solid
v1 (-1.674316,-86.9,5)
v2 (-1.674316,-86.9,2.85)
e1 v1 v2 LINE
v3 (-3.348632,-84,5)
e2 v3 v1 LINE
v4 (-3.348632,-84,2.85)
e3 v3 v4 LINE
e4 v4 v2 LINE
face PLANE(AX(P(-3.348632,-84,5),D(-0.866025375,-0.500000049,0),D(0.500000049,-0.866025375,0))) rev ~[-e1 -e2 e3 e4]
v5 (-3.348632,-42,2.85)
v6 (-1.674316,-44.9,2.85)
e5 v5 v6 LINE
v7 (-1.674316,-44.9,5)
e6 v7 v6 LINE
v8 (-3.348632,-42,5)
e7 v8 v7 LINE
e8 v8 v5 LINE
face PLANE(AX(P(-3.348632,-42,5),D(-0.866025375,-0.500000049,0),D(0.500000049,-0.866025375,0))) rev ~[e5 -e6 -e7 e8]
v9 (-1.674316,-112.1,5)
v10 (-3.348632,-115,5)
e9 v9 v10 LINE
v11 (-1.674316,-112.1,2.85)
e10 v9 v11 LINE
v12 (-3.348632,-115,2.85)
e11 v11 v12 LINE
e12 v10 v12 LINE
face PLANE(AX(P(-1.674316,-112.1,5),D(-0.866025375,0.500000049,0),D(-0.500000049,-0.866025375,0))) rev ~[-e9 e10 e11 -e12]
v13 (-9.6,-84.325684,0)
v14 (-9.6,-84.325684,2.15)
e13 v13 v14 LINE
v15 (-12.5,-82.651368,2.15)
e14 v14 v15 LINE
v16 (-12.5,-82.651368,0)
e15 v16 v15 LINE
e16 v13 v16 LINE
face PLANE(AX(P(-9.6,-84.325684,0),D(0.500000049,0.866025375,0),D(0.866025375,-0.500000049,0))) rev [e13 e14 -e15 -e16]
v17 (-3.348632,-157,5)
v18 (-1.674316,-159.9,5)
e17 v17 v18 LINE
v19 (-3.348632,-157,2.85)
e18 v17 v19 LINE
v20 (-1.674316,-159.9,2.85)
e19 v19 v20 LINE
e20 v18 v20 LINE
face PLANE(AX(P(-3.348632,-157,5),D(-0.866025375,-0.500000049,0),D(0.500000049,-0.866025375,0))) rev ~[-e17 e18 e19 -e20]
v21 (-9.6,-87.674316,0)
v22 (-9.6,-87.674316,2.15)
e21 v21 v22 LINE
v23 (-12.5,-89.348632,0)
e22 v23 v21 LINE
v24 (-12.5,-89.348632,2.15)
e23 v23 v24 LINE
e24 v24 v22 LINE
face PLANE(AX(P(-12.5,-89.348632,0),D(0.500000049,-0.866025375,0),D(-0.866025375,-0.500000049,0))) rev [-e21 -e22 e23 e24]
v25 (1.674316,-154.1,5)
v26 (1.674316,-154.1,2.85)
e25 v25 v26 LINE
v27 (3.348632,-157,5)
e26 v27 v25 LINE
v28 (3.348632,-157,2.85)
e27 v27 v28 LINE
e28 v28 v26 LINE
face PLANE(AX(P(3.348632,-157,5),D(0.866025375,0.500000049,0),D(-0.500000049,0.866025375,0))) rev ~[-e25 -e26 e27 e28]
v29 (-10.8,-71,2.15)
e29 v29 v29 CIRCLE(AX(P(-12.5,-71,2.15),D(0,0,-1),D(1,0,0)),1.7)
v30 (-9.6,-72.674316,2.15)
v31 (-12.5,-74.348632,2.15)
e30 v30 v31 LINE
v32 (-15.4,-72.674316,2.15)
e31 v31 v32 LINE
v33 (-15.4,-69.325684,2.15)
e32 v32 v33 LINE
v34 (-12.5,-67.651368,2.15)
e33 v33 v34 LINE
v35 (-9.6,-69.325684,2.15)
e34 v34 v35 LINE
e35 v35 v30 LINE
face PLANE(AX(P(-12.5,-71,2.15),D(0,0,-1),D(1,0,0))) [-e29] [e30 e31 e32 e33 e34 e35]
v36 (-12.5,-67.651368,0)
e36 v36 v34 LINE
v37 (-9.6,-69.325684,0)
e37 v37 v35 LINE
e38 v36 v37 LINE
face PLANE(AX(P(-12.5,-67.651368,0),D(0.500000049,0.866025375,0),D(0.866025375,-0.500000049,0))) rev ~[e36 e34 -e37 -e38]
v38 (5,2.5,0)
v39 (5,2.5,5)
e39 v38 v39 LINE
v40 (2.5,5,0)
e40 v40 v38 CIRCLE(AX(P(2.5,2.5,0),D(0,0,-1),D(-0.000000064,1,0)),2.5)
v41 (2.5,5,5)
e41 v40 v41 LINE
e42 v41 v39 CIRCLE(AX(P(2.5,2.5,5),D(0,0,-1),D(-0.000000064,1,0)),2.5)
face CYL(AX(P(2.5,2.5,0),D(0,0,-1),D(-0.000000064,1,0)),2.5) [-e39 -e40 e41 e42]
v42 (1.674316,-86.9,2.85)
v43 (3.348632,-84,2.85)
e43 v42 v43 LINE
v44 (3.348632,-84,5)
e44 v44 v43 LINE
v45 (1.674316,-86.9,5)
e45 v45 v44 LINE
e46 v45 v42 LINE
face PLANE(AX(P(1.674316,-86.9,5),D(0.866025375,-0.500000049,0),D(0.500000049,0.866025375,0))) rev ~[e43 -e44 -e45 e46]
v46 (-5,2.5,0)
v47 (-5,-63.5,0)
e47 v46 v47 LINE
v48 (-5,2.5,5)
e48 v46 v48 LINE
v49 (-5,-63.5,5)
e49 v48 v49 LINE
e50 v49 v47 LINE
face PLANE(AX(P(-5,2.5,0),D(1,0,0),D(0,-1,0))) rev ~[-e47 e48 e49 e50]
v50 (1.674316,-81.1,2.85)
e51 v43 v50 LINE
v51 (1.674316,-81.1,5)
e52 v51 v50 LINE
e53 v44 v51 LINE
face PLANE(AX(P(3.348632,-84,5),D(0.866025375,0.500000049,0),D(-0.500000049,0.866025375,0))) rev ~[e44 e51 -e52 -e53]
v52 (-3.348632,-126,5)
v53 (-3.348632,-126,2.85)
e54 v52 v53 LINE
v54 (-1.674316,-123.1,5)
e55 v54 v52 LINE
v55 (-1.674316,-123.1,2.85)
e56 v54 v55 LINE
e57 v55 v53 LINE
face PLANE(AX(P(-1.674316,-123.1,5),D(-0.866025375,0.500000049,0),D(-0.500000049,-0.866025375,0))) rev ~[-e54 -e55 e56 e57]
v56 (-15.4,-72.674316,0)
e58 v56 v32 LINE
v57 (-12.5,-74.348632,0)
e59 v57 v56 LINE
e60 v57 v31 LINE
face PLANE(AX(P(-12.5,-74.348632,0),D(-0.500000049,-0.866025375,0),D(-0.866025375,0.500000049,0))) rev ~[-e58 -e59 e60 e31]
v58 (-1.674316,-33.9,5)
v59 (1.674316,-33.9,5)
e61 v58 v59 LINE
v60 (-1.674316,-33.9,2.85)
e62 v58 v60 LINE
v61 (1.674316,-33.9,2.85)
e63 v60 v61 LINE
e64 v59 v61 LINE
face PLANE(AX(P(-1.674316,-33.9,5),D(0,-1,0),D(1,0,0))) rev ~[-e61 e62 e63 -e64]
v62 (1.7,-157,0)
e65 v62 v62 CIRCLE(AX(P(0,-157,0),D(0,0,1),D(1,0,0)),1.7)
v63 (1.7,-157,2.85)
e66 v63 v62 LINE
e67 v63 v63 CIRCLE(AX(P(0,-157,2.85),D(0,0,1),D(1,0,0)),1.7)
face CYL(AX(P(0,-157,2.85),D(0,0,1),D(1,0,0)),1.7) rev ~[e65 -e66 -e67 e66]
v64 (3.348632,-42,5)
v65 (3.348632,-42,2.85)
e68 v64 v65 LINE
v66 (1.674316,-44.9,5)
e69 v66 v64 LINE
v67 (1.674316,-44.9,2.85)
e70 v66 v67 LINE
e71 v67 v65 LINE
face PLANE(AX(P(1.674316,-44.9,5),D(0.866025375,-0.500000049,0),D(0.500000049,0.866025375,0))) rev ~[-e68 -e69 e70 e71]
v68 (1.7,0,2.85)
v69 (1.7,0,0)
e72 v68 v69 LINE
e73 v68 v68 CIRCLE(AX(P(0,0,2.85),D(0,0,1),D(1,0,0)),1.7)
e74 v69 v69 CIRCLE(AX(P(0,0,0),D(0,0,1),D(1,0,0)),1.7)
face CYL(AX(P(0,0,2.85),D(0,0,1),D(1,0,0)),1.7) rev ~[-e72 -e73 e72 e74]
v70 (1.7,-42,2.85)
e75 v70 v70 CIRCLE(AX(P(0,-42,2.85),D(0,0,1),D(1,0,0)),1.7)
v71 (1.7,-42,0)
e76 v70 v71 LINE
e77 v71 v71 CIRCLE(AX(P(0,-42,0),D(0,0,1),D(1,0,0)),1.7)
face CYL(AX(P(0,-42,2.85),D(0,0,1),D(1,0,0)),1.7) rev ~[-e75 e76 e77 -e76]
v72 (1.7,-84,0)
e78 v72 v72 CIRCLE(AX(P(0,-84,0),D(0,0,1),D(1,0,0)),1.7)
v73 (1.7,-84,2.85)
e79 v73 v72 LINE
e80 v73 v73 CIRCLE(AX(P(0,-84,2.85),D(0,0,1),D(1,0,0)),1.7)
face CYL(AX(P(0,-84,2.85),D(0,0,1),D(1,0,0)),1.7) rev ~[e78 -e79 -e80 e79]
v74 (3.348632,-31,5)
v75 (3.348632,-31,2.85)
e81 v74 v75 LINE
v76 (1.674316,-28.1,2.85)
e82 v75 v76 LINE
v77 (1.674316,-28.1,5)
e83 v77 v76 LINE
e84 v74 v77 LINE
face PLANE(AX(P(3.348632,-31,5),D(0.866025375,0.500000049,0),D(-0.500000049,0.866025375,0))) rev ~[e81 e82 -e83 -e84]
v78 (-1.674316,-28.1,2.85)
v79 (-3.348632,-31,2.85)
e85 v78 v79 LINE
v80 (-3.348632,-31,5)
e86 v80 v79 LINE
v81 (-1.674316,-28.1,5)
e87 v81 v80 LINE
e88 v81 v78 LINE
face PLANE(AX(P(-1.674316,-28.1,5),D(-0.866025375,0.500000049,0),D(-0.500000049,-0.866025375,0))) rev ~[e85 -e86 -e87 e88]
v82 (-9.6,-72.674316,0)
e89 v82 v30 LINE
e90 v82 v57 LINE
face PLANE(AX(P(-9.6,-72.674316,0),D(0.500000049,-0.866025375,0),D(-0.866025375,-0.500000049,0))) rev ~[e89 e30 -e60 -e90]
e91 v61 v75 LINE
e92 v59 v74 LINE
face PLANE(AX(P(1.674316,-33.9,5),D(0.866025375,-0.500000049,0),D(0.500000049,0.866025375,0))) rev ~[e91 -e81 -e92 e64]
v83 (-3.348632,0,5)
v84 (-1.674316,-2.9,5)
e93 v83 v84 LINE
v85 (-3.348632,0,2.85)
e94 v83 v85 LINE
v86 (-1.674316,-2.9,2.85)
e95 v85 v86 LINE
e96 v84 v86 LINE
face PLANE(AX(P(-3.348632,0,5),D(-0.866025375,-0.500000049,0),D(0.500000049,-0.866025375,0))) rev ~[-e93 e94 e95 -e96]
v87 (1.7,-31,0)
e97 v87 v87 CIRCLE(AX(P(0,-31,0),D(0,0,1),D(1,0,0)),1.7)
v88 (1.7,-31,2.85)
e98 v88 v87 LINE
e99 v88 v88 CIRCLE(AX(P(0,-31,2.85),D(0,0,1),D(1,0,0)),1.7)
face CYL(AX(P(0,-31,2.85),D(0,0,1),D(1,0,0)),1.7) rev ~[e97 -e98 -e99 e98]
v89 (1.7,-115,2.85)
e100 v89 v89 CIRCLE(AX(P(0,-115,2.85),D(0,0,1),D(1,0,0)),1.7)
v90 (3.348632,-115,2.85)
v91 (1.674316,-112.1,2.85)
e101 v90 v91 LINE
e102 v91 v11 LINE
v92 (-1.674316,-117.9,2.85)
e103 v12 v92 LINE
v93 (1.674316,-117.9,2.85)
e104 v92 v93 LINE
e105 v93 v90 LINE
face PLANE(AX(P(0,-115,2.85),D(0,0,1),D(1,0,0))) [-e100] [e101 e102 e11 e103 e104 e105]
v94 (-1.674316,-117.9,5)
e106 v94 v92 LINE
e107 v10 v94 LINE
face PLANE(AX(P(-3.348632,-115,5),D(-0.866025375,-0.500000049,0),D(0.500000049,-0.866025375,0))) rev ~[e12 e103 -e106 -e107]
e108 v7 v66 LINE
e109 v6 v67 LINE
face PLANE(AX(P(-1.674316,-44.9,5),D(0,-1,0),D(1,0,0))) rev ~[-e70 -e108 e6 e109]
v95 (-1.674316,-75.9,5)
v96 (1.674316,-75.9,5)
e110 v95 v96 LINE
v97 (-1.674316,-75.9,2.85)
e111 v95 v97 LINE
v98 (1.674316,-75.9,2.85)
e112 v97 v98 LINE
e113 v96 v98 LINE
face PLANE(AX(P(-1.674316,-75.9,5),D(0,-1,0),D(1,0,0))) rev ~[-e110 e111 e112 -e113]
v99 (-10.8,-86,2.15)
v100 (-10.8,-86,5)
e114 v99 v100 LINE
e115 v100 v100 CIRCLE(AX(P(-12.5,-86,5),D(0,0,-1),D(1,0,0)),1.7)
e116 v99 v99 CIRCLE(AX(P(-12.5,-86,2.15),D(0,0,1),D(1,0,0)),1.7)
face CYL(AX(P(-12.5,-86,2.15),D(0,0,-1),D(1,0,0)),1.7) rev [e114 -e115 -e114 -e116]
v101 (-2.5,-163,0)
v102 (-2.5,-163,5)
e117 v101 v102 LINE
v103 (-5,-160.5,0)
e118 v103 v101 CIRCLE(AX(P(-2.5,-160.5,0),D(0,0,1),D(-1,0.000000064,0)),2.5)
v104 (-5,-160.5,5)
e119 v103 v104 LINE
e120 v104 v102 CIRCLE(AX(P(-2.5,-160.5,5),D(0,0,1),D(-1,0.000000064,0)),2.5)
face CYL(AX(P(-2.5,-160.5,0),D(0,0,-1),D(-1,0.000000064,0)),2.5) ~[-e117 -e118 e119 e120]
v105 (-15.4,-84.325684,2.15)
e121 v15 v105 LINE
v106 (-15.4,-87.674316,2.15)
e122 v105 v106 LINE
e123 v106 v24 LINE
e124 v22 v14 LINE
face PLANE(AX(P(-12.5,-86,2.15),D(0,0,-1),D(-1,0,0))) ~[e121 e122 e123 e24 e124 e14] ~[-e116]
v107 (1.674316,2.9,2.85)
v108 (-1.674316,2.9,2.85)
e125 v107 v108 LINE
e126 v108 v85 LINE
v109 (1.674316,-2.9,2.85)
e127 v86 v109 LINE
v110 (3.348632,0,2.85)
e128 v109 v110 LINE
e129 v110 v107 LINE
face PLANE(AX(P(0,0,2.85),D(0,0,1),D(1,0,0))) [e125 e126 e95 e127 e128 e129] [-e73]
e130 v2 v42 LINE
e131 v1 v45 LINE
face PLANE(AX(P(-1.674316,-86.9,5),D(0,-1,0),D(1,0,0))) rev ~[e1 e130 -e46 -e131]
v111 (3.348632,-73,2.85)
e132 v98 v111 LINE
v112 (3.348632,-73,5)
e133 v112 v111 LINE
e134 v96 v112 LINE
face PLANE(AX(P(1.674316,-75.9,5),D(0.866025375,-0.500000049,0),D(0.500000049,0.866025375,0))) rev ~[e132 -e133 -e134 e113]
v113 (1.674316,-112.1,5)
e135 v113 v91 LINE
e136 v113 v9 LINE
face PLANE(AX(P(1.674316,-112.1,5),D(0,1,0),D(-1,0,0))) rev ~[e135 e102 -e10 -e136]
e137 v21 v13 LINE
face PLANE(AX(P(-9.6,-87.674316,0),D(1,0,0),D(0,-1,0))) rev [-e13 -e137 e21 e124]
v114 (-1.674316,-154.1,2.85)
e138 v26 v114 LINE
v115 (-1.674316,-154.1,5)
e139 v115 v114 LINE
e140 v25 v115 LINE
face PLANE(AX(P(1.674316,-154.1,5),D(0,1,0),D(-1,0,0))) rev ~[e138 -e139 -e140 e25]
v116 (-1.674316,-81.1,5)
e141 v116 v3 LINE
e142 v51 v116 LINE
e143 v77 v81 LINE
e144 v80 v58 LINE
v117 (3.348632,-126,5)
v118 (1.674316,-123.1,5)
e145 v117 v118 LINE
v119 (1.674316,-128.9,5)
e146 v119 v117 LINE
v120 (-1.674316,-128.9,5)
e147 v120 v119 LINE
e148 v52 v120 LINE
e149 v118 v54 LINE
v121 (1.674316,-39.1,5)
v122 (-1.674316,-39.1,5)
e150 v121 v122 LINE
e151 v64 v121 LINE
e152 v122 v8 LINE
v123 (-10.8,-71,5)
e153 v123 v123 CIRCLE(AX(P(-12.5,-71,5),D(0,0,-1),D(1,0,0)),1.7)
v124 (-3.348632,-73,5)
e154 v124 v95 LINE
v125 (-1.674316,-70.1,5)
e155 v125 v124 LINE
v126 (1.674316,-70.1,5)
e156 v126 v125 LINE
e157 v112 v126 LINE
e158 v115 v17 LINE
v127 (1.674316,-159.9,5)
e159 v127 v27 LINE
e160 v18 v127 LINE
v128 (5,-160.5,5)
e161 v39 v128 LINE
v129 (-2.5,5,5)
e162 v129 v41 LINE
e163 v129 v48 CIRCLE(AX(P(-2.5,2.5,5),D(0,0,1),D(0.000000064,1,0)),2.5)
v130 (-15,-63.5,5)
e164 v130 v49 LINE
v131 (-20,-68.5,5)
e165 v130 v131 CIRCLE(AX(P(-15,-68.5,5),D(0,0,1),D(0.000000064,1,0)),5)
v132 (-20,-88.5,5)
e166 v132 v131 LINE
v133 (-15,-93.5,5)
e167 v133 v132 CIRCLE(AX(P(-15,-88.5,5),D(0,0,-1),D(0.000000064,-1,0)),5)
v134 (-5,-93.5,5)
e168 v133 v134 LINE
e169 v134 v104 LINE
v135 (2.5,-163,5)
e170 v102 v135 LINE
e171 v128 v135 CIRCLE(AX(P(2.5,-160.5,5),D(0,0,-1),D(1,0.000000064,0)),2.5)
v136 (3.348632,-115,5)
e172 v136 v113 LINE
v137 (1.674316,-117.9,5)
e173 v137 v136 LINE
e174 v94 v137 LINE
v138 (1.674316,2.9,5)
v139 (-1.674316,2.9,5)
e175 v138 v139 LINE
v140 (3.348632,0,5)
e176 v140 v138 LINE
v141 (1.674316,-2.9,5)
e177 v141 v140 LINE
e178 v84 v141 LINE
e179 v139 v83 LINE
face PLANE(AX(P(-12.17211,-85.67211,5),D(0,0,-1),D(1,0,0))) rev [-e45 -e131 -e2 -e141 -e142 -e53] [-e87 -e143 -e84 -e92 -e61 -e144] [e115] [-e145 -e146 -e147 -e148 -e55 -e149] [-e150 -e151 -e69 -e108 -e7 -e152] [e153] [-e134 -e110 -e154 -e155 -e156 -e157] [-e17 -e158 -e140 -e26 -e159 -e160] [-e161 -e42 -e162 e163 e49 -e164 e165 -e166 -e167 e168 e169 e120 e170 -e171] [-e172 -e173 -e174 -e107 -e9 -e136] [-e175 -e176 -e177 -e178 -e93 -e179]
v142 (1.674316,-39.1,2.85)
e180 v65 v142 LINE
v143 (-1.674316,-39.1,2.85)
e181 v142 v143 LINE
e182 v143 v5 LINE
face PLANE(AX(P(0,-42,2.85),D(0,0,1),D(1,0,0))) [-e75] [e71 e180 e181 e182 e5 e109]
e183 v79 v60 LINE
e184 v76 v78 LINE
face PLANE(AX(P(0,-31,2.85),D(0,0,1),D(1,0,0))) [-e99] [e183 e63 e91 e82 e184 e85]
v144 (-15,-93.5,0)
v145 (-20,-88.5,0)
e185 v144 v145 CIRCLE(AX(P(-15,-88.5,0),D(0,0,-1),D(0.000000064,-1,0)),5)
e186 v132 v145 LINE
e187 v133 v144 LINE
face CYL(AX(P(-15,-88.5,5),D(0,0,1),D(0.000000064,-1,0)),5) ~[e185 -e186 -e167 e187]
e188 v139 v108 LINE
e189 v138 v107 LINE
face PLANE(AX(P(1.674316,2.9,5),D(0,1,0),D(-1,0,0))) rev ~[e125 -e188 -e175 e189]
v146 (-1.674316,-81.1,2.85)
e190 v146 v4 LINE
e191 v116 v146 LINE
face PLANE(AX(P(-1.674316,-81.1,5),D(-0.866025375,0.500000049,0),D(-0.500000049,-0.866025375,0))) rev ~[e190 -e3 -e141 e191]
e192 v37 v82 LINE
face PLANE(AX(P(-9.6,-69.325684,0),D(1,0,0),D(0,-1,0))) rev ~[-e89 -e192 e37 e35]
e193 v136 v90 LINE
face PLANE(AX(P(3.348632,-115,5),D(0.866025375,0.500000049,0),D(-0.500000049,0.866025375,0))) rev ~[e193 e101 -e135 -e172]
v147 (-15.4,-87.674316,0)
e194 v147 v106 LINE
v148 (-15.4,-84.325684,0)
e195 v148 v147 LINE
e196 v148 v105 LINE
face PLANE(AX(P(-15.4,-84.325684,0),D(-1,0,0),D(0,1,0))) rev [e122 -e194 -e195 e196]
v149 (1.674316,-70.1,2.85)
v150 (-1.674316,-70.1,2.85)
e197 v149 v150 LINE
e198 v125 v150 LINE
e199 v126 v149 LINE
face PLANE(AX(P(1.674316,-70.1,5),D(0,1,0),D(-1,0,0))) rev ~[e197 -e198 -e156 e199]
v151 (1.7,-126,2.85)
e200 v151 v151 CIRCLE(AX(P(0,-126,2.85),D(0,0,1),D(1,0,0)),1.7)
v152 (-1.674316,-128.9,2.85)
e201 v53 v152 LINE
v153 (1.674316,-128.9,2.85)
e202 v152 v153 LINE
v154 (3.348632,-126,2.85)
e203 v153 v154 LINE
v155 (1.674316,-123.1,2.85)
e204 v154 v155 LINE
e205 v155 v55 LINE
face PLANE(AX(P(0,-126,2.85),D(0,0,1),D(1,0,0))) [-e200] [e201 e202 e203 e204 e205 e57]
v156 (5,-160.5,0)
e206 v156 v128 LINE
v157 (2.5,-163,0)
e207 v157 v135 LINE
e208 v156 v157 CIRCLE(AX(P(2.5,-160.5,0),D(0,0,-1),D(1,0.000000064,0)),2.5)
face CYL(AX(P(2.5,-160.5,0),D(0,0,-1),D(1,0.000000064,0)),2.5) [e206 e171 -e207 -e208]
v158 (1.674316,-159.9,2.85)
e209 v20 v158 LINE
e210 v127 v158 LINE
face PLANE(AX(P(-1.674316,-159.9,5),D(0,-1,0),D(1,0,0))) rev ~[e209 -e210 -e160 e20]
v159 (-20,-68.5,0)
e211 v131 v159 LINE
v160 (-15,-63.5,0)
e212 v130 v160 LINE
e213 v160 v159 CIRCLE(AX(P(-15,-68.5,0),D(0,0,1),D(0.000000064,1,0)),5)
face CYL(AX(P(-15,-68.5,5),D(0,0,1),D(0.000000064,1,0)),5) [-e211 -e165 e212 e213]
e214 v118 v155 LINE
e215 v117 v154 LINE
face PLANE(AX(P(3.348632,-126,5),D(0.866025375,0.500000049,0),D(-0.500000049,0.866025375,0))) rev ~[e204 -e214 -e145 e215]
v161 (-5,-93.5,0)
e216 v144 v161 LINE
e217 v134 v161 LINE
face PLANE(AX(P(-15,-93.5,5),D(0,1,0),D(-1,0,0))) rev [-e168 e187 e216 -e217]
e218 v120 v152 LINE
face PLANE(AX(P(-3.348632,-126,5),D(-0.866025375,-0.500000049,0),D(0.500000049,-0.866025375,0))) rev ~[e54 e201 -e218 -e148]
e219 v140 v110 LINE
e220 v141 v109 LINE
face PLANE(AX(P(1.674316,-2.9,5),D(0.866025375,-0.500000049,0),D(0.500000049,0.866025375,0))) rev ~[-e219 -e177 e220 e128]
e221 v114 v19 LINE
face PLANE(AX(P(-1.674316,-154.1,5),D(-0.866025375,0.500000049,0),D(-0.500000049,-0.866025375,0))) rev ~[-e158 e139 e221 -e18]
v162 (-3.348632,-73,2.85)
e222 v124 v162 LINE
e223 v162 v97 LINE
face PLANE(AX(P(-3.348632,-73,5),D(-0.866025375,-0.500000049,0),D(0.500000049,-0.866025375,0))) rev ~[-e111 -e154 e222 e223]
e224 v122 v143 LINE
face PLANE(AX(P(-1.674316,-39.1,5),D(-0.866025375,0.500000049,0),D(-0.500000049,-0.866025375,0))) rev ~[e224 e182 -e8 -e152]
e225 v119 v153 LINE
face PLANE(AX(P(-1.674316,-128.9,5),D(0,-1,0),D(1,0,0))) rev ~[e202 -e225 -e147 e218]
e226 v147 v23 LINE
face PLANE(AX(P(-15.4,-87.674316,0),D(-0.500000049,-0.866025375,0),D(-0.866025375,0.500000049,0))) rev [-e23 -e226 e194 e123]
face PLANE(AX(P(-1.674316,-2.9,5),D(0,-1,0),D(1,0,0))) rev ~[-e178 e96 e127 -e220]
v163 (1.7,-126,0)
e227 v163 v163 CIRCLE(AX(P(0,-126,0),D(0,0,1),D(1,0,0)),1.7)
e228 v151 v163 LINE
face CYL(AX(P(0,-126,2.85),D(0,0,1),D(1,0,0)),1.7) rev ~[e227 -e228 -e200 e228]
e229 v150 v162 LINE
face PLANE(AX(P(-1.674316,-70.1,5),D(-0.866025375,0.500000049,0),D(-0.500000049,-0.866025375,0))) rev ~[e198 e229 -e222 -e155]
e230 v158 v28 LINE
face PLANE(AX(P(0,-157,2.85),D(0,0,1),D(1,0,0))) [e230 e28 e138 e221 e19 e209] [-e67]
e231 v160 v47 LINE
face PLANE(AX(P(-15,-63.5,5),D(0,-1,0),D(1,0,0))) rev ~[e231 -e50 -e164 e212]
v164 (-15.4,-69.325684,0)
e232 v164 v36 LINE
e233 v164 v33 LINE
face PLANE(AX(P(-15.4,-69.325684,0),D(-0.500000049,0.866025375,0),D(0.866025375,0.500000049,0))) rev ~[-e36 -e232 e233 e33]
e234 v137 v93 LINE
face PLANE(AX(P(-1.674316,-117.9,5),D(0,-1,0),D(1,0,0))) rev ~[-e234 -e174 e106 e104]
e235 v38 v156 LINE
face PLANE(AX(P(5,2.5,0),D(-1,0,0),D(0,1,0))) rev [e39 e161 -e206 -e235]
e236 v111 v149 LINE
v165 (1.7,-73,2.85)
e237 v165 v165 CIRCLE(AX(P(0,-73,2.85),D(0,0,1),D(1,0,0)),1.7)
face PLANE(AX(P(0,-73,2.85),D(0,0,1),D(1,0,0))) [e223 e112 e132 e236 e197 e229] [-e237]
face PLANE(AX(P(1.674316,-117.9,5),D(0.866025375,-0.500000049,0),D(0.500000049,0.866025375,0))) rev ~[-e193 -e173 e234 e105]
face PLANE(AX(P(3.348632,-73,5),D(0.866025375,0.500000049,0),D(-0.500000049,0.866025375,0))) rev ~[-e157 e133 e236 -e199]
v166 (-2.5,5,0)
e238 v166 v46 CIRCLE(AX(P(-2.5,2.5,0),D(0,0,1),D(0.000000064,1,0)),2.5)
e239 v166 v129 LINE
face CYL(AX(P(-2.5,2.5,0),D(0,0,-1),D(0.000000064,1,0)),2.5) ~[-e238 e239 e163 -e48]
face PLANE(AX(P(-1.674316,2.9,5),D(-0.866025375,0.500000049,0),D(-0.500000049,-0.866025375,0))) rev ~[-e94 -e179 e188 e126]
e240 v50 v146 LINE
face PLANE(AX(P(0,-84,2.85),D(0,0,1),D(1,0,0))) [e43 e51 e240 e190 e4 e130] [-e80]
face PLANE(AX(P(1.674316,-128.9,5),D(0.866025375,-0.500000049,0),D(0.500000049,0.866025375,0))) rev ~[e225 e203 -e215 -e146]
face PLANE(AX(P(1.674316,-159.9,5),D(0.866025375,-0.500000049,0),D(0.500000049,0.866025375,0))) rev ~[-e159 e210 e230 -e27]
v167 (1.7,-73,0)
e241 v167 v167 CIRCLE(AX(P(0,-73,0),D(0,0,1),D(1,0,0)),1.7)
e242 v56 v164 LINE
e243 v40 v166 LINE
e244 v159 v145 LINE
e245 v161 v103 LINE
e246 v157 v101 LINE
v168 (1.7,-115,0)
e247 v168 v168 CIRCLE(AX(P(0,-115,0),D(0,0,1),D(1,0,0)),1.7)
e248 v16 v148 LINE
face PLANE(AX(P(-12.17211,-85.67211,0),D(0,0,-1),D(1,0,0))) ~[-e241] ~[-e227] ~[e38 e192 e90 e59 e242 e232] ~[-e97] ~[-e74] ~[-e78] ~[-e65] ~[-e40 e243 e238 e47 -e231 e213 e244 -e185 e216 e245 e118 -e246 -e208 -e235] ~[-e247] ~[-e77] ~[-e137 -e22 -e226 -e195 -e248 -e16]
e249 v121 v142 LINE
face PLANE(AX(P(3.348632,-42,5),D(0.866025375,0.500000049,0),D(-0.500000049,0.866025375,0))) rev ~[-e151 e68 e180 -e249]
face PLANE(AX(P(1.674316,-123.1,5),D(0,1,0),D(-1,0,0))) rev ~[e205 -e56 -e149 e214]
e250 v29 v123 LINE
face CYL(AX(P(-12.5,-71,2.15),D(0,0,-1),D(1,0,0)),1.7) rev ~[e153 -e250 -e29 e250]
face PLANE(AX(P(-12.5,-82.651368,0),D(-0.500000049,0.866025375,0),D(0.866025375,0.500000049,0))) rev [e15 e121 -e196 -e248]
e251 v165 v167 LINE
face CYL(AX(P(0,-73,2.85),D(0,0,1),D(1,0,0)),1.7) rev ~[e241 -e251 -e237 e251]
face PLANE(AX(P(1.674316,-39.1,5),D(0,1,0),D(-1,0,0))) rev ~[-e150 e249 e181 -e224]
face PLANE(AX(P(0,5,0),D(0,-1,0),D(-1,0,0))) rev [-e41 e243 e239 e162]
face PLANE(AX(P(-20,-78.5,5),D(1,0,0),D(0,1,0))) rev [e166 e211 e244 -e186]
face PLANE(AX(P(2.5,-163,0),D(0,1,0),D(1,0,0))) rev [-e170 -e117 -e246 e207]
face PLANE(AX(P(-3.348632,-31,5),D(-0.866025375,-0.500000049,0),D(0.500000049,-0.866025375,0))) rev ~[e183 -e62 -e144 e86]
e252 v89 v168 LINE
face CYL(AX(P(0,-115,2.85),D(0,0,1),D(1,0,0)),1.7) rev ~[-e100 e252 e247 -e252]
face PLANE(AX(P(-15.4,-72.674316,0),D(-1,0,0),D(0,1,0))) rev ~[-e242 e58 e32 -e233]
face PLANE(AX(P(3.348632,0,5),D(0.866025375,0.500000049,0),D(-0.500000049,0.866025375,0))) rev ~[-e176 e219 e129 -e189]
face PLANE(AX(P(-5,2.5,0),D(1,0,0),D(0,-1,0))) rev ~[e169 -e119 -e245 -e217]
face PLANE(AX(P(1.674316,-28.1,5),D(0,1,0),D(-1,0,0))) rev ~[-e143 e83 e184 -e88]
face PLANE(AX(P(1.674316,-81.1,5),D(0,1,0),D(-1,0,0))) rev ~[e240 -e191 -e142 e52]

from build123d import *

# Parameters (mm, degrees)
PAD_DEPTH                    = 5
POCKET_DEPTH                 = 2.15
SKETCH002_R                  = 1.7
HOLE_DEPTH                   = 339.594226
POCKET_LINEARPATTERN_2_DEPTH = 2.15
SKETCH002_LINEARPATTERN_2_R  = 1.7
HOLE_LINEARPATTERN_2_DEPTH   = 339.594226
LINEARPATTERN001_COUNT       = 4
LINEARPATTERN001_PITCH       = 42
PAD001_DEPTH                 = 5
POCKET001_DEPTH              = 2.15
SKETCH005_R                  = 1.7
HOLE001_DEPTH                = 342.698024


with BuildPart() as part:
    # Sketch → Pad (new body)
    with BuildSketch(Plane.XY):
        with BuildLine():
            Line((0, 5), (-2.5, 5))
            ThreePointArc((-2.5, 5), (-4.267767, 4.267767), (-5, 2.5))
            Line((-5, 2.5), (-5, -160.5))
            ThreePointArc((-5, -160.5), (-4.267767, -162.267767), (-2.5, -163))
            Line((-2.5, -163), (0, -163))
            Line((0, -163), (0, 5))
        make_face()
    pad = extrude(amount=PAD_DEPTH)

    # Mirrored: Pad across Sketch V_Axis
    add(pad.mirror(Plane(origin=(0, 0, 0), x_dir=(0, 0, 1), z_dir=(1, 0, 0))))

    # Sketch001 (on Face5 of Mirrored) → Pocket (cut)
    with BuildSketch(Plane.XY.offset(5)):
        Polygon((3.348632, 0), (1.674316, 2.9), (-1.674316, 2.9), (-3.348632, 0), (-1.674316, -2.9), (1.674316, -2.9), align=None)
    pocket = extrude(amount=-POCKET_DEPTH, mode=Mode.SUBTRACT)

    # Sketch002 (on Face21 of Pocket) → Hole (cut, through all)
    with BuildSketch(Plane.XY.offset(2.85)):
        Circle(SKETCH002_R)
    hole = extrude(amount=-HOLE_DEPTH, mode=Mode.SUBTRACT)

    # Sketch001 LinearPattern 2 → Pocket LinearPattern 2 (cut)
    with BuildSketch(Plane(origin=(0, -31, 5), x_dir=(1, 0, 0), z_dir=(0, 0, 1))):
        Polygon((3.348632, 0), (1.674316, 2.9), (-1.674316, 2.9), (-3.348632, 0), (-1.674316, -2.9), (1.674316, -2.9), align=None)
    pocket_linearpattern_2 = extrude(amount=-POCKET_LINEARPATTERN_2_DEPTH, mode=Mode.SUBTRACT)

    # Sketch002 LinearPattern 2 → Hole LinearPattern 2 (cut, through all)
    with BuildSketch(Plane(origin=(0, -31, 2.85), x_dir=(1, 0, 0), z_dir=(0, 0, 1))):
        Circle(SKETCH002_LINEARPATTERN_2_R)
    hole_linearpattern_2 = extrude(amount=-HOLE_LINEARPATTERN_2_DEPTH, mode=Mode.SUBTRACT)

    # LinearPattern001: Pocket, Hole, Pocket LinearPattern 2, Hole LinearPattern 2 ×4
    with Locations(*[(0, -i * LINEARPATTERN001_PITCH, 0) for i in range(1, LINEARPATTERN001_COUNT)]):
        add(pocket, mode=Mode.SUBTRACT)
        add(hole, mode=Mode.SUBTRACT)
        add(pocket_linearpattern_2, mode=Mode.SUBTRACT)
        add(hole_linearpattern_2, mode=Mode.SUBTRACT)

    # Sketch003 (on Face5 of MultiTransform) → Pad001 (join)
    with BuildSketch(Plane.XY.offset(5)):
        with BuildLine():
            Line((-5, -78.5), (-20, -78.5))
            Line((-20, -78.5), (-20, -68.5))
            ThreePointArc((-15, -63.5), (-18.535534, -64.964466), (-20, -68.5))
            Line((-15, -63.5), (-5, -63.5))
            Line((-5, -63.5), (-5, -78.5))
        make_face()
    pad001 = extrude(amount=-PAD001_DEPTH)

    # Sketch004 (on Face17 of Pad001) → Pocket001 (cut)
    with BuildSketch(Plane(origin=(0, 0, 0), x_dir=(1, 0, 0), z_dir=(0, 0, -1))):
        Polygon((-9.6, 72.674316), (-12.5, 74.348632), (-15.4, 72.674316), (-15.4, 69.325684), (-12.5, 67.651368), (-9.6, 69.325684), align=None)
    pocket001 = extrude(amount=-POCKET001_DEPTH, mode=Mode.SUBTRACT)

    # Sketch005 (on Face92 of Pocket001) → Hole001 (cut, through all)
    with BuildSketch(Plane(origin=(0, 0, 2.15), x_dir=(1, 0, 0), z_dir=(0, 0, -1))):
        with Locations((-12.5, 71)):
            Circle(SKETCH005_R)
    hole001 = extrude(amount=-HOLE001_DEPTH, mode=Mode.SUBTRACT)

    # Mirrored001: Pad001, Pocket001, Hole001 across face of Hole001
    add(pad001.mirror(Plane(origin=(-12.5, -78.5, 2.5), x_dir=(1, 0, 0), z_dir=(0, -1, 0))))
    add(pocket001.mirror(Plane(origin=(-12.5, -78.5, 2.5), x_dir=(1, 0, 0), z_dir=(0, -1, 0))), mode=Mode.SUBTRACT)
    add(hole001.mirror(Plane(origin=(-12.5, -78.5, 2.5), x_dir=(1, 0, 0), z_dir=(0, -1, 0))), mode=Mode.SUBTRACT)


solid = part.part
